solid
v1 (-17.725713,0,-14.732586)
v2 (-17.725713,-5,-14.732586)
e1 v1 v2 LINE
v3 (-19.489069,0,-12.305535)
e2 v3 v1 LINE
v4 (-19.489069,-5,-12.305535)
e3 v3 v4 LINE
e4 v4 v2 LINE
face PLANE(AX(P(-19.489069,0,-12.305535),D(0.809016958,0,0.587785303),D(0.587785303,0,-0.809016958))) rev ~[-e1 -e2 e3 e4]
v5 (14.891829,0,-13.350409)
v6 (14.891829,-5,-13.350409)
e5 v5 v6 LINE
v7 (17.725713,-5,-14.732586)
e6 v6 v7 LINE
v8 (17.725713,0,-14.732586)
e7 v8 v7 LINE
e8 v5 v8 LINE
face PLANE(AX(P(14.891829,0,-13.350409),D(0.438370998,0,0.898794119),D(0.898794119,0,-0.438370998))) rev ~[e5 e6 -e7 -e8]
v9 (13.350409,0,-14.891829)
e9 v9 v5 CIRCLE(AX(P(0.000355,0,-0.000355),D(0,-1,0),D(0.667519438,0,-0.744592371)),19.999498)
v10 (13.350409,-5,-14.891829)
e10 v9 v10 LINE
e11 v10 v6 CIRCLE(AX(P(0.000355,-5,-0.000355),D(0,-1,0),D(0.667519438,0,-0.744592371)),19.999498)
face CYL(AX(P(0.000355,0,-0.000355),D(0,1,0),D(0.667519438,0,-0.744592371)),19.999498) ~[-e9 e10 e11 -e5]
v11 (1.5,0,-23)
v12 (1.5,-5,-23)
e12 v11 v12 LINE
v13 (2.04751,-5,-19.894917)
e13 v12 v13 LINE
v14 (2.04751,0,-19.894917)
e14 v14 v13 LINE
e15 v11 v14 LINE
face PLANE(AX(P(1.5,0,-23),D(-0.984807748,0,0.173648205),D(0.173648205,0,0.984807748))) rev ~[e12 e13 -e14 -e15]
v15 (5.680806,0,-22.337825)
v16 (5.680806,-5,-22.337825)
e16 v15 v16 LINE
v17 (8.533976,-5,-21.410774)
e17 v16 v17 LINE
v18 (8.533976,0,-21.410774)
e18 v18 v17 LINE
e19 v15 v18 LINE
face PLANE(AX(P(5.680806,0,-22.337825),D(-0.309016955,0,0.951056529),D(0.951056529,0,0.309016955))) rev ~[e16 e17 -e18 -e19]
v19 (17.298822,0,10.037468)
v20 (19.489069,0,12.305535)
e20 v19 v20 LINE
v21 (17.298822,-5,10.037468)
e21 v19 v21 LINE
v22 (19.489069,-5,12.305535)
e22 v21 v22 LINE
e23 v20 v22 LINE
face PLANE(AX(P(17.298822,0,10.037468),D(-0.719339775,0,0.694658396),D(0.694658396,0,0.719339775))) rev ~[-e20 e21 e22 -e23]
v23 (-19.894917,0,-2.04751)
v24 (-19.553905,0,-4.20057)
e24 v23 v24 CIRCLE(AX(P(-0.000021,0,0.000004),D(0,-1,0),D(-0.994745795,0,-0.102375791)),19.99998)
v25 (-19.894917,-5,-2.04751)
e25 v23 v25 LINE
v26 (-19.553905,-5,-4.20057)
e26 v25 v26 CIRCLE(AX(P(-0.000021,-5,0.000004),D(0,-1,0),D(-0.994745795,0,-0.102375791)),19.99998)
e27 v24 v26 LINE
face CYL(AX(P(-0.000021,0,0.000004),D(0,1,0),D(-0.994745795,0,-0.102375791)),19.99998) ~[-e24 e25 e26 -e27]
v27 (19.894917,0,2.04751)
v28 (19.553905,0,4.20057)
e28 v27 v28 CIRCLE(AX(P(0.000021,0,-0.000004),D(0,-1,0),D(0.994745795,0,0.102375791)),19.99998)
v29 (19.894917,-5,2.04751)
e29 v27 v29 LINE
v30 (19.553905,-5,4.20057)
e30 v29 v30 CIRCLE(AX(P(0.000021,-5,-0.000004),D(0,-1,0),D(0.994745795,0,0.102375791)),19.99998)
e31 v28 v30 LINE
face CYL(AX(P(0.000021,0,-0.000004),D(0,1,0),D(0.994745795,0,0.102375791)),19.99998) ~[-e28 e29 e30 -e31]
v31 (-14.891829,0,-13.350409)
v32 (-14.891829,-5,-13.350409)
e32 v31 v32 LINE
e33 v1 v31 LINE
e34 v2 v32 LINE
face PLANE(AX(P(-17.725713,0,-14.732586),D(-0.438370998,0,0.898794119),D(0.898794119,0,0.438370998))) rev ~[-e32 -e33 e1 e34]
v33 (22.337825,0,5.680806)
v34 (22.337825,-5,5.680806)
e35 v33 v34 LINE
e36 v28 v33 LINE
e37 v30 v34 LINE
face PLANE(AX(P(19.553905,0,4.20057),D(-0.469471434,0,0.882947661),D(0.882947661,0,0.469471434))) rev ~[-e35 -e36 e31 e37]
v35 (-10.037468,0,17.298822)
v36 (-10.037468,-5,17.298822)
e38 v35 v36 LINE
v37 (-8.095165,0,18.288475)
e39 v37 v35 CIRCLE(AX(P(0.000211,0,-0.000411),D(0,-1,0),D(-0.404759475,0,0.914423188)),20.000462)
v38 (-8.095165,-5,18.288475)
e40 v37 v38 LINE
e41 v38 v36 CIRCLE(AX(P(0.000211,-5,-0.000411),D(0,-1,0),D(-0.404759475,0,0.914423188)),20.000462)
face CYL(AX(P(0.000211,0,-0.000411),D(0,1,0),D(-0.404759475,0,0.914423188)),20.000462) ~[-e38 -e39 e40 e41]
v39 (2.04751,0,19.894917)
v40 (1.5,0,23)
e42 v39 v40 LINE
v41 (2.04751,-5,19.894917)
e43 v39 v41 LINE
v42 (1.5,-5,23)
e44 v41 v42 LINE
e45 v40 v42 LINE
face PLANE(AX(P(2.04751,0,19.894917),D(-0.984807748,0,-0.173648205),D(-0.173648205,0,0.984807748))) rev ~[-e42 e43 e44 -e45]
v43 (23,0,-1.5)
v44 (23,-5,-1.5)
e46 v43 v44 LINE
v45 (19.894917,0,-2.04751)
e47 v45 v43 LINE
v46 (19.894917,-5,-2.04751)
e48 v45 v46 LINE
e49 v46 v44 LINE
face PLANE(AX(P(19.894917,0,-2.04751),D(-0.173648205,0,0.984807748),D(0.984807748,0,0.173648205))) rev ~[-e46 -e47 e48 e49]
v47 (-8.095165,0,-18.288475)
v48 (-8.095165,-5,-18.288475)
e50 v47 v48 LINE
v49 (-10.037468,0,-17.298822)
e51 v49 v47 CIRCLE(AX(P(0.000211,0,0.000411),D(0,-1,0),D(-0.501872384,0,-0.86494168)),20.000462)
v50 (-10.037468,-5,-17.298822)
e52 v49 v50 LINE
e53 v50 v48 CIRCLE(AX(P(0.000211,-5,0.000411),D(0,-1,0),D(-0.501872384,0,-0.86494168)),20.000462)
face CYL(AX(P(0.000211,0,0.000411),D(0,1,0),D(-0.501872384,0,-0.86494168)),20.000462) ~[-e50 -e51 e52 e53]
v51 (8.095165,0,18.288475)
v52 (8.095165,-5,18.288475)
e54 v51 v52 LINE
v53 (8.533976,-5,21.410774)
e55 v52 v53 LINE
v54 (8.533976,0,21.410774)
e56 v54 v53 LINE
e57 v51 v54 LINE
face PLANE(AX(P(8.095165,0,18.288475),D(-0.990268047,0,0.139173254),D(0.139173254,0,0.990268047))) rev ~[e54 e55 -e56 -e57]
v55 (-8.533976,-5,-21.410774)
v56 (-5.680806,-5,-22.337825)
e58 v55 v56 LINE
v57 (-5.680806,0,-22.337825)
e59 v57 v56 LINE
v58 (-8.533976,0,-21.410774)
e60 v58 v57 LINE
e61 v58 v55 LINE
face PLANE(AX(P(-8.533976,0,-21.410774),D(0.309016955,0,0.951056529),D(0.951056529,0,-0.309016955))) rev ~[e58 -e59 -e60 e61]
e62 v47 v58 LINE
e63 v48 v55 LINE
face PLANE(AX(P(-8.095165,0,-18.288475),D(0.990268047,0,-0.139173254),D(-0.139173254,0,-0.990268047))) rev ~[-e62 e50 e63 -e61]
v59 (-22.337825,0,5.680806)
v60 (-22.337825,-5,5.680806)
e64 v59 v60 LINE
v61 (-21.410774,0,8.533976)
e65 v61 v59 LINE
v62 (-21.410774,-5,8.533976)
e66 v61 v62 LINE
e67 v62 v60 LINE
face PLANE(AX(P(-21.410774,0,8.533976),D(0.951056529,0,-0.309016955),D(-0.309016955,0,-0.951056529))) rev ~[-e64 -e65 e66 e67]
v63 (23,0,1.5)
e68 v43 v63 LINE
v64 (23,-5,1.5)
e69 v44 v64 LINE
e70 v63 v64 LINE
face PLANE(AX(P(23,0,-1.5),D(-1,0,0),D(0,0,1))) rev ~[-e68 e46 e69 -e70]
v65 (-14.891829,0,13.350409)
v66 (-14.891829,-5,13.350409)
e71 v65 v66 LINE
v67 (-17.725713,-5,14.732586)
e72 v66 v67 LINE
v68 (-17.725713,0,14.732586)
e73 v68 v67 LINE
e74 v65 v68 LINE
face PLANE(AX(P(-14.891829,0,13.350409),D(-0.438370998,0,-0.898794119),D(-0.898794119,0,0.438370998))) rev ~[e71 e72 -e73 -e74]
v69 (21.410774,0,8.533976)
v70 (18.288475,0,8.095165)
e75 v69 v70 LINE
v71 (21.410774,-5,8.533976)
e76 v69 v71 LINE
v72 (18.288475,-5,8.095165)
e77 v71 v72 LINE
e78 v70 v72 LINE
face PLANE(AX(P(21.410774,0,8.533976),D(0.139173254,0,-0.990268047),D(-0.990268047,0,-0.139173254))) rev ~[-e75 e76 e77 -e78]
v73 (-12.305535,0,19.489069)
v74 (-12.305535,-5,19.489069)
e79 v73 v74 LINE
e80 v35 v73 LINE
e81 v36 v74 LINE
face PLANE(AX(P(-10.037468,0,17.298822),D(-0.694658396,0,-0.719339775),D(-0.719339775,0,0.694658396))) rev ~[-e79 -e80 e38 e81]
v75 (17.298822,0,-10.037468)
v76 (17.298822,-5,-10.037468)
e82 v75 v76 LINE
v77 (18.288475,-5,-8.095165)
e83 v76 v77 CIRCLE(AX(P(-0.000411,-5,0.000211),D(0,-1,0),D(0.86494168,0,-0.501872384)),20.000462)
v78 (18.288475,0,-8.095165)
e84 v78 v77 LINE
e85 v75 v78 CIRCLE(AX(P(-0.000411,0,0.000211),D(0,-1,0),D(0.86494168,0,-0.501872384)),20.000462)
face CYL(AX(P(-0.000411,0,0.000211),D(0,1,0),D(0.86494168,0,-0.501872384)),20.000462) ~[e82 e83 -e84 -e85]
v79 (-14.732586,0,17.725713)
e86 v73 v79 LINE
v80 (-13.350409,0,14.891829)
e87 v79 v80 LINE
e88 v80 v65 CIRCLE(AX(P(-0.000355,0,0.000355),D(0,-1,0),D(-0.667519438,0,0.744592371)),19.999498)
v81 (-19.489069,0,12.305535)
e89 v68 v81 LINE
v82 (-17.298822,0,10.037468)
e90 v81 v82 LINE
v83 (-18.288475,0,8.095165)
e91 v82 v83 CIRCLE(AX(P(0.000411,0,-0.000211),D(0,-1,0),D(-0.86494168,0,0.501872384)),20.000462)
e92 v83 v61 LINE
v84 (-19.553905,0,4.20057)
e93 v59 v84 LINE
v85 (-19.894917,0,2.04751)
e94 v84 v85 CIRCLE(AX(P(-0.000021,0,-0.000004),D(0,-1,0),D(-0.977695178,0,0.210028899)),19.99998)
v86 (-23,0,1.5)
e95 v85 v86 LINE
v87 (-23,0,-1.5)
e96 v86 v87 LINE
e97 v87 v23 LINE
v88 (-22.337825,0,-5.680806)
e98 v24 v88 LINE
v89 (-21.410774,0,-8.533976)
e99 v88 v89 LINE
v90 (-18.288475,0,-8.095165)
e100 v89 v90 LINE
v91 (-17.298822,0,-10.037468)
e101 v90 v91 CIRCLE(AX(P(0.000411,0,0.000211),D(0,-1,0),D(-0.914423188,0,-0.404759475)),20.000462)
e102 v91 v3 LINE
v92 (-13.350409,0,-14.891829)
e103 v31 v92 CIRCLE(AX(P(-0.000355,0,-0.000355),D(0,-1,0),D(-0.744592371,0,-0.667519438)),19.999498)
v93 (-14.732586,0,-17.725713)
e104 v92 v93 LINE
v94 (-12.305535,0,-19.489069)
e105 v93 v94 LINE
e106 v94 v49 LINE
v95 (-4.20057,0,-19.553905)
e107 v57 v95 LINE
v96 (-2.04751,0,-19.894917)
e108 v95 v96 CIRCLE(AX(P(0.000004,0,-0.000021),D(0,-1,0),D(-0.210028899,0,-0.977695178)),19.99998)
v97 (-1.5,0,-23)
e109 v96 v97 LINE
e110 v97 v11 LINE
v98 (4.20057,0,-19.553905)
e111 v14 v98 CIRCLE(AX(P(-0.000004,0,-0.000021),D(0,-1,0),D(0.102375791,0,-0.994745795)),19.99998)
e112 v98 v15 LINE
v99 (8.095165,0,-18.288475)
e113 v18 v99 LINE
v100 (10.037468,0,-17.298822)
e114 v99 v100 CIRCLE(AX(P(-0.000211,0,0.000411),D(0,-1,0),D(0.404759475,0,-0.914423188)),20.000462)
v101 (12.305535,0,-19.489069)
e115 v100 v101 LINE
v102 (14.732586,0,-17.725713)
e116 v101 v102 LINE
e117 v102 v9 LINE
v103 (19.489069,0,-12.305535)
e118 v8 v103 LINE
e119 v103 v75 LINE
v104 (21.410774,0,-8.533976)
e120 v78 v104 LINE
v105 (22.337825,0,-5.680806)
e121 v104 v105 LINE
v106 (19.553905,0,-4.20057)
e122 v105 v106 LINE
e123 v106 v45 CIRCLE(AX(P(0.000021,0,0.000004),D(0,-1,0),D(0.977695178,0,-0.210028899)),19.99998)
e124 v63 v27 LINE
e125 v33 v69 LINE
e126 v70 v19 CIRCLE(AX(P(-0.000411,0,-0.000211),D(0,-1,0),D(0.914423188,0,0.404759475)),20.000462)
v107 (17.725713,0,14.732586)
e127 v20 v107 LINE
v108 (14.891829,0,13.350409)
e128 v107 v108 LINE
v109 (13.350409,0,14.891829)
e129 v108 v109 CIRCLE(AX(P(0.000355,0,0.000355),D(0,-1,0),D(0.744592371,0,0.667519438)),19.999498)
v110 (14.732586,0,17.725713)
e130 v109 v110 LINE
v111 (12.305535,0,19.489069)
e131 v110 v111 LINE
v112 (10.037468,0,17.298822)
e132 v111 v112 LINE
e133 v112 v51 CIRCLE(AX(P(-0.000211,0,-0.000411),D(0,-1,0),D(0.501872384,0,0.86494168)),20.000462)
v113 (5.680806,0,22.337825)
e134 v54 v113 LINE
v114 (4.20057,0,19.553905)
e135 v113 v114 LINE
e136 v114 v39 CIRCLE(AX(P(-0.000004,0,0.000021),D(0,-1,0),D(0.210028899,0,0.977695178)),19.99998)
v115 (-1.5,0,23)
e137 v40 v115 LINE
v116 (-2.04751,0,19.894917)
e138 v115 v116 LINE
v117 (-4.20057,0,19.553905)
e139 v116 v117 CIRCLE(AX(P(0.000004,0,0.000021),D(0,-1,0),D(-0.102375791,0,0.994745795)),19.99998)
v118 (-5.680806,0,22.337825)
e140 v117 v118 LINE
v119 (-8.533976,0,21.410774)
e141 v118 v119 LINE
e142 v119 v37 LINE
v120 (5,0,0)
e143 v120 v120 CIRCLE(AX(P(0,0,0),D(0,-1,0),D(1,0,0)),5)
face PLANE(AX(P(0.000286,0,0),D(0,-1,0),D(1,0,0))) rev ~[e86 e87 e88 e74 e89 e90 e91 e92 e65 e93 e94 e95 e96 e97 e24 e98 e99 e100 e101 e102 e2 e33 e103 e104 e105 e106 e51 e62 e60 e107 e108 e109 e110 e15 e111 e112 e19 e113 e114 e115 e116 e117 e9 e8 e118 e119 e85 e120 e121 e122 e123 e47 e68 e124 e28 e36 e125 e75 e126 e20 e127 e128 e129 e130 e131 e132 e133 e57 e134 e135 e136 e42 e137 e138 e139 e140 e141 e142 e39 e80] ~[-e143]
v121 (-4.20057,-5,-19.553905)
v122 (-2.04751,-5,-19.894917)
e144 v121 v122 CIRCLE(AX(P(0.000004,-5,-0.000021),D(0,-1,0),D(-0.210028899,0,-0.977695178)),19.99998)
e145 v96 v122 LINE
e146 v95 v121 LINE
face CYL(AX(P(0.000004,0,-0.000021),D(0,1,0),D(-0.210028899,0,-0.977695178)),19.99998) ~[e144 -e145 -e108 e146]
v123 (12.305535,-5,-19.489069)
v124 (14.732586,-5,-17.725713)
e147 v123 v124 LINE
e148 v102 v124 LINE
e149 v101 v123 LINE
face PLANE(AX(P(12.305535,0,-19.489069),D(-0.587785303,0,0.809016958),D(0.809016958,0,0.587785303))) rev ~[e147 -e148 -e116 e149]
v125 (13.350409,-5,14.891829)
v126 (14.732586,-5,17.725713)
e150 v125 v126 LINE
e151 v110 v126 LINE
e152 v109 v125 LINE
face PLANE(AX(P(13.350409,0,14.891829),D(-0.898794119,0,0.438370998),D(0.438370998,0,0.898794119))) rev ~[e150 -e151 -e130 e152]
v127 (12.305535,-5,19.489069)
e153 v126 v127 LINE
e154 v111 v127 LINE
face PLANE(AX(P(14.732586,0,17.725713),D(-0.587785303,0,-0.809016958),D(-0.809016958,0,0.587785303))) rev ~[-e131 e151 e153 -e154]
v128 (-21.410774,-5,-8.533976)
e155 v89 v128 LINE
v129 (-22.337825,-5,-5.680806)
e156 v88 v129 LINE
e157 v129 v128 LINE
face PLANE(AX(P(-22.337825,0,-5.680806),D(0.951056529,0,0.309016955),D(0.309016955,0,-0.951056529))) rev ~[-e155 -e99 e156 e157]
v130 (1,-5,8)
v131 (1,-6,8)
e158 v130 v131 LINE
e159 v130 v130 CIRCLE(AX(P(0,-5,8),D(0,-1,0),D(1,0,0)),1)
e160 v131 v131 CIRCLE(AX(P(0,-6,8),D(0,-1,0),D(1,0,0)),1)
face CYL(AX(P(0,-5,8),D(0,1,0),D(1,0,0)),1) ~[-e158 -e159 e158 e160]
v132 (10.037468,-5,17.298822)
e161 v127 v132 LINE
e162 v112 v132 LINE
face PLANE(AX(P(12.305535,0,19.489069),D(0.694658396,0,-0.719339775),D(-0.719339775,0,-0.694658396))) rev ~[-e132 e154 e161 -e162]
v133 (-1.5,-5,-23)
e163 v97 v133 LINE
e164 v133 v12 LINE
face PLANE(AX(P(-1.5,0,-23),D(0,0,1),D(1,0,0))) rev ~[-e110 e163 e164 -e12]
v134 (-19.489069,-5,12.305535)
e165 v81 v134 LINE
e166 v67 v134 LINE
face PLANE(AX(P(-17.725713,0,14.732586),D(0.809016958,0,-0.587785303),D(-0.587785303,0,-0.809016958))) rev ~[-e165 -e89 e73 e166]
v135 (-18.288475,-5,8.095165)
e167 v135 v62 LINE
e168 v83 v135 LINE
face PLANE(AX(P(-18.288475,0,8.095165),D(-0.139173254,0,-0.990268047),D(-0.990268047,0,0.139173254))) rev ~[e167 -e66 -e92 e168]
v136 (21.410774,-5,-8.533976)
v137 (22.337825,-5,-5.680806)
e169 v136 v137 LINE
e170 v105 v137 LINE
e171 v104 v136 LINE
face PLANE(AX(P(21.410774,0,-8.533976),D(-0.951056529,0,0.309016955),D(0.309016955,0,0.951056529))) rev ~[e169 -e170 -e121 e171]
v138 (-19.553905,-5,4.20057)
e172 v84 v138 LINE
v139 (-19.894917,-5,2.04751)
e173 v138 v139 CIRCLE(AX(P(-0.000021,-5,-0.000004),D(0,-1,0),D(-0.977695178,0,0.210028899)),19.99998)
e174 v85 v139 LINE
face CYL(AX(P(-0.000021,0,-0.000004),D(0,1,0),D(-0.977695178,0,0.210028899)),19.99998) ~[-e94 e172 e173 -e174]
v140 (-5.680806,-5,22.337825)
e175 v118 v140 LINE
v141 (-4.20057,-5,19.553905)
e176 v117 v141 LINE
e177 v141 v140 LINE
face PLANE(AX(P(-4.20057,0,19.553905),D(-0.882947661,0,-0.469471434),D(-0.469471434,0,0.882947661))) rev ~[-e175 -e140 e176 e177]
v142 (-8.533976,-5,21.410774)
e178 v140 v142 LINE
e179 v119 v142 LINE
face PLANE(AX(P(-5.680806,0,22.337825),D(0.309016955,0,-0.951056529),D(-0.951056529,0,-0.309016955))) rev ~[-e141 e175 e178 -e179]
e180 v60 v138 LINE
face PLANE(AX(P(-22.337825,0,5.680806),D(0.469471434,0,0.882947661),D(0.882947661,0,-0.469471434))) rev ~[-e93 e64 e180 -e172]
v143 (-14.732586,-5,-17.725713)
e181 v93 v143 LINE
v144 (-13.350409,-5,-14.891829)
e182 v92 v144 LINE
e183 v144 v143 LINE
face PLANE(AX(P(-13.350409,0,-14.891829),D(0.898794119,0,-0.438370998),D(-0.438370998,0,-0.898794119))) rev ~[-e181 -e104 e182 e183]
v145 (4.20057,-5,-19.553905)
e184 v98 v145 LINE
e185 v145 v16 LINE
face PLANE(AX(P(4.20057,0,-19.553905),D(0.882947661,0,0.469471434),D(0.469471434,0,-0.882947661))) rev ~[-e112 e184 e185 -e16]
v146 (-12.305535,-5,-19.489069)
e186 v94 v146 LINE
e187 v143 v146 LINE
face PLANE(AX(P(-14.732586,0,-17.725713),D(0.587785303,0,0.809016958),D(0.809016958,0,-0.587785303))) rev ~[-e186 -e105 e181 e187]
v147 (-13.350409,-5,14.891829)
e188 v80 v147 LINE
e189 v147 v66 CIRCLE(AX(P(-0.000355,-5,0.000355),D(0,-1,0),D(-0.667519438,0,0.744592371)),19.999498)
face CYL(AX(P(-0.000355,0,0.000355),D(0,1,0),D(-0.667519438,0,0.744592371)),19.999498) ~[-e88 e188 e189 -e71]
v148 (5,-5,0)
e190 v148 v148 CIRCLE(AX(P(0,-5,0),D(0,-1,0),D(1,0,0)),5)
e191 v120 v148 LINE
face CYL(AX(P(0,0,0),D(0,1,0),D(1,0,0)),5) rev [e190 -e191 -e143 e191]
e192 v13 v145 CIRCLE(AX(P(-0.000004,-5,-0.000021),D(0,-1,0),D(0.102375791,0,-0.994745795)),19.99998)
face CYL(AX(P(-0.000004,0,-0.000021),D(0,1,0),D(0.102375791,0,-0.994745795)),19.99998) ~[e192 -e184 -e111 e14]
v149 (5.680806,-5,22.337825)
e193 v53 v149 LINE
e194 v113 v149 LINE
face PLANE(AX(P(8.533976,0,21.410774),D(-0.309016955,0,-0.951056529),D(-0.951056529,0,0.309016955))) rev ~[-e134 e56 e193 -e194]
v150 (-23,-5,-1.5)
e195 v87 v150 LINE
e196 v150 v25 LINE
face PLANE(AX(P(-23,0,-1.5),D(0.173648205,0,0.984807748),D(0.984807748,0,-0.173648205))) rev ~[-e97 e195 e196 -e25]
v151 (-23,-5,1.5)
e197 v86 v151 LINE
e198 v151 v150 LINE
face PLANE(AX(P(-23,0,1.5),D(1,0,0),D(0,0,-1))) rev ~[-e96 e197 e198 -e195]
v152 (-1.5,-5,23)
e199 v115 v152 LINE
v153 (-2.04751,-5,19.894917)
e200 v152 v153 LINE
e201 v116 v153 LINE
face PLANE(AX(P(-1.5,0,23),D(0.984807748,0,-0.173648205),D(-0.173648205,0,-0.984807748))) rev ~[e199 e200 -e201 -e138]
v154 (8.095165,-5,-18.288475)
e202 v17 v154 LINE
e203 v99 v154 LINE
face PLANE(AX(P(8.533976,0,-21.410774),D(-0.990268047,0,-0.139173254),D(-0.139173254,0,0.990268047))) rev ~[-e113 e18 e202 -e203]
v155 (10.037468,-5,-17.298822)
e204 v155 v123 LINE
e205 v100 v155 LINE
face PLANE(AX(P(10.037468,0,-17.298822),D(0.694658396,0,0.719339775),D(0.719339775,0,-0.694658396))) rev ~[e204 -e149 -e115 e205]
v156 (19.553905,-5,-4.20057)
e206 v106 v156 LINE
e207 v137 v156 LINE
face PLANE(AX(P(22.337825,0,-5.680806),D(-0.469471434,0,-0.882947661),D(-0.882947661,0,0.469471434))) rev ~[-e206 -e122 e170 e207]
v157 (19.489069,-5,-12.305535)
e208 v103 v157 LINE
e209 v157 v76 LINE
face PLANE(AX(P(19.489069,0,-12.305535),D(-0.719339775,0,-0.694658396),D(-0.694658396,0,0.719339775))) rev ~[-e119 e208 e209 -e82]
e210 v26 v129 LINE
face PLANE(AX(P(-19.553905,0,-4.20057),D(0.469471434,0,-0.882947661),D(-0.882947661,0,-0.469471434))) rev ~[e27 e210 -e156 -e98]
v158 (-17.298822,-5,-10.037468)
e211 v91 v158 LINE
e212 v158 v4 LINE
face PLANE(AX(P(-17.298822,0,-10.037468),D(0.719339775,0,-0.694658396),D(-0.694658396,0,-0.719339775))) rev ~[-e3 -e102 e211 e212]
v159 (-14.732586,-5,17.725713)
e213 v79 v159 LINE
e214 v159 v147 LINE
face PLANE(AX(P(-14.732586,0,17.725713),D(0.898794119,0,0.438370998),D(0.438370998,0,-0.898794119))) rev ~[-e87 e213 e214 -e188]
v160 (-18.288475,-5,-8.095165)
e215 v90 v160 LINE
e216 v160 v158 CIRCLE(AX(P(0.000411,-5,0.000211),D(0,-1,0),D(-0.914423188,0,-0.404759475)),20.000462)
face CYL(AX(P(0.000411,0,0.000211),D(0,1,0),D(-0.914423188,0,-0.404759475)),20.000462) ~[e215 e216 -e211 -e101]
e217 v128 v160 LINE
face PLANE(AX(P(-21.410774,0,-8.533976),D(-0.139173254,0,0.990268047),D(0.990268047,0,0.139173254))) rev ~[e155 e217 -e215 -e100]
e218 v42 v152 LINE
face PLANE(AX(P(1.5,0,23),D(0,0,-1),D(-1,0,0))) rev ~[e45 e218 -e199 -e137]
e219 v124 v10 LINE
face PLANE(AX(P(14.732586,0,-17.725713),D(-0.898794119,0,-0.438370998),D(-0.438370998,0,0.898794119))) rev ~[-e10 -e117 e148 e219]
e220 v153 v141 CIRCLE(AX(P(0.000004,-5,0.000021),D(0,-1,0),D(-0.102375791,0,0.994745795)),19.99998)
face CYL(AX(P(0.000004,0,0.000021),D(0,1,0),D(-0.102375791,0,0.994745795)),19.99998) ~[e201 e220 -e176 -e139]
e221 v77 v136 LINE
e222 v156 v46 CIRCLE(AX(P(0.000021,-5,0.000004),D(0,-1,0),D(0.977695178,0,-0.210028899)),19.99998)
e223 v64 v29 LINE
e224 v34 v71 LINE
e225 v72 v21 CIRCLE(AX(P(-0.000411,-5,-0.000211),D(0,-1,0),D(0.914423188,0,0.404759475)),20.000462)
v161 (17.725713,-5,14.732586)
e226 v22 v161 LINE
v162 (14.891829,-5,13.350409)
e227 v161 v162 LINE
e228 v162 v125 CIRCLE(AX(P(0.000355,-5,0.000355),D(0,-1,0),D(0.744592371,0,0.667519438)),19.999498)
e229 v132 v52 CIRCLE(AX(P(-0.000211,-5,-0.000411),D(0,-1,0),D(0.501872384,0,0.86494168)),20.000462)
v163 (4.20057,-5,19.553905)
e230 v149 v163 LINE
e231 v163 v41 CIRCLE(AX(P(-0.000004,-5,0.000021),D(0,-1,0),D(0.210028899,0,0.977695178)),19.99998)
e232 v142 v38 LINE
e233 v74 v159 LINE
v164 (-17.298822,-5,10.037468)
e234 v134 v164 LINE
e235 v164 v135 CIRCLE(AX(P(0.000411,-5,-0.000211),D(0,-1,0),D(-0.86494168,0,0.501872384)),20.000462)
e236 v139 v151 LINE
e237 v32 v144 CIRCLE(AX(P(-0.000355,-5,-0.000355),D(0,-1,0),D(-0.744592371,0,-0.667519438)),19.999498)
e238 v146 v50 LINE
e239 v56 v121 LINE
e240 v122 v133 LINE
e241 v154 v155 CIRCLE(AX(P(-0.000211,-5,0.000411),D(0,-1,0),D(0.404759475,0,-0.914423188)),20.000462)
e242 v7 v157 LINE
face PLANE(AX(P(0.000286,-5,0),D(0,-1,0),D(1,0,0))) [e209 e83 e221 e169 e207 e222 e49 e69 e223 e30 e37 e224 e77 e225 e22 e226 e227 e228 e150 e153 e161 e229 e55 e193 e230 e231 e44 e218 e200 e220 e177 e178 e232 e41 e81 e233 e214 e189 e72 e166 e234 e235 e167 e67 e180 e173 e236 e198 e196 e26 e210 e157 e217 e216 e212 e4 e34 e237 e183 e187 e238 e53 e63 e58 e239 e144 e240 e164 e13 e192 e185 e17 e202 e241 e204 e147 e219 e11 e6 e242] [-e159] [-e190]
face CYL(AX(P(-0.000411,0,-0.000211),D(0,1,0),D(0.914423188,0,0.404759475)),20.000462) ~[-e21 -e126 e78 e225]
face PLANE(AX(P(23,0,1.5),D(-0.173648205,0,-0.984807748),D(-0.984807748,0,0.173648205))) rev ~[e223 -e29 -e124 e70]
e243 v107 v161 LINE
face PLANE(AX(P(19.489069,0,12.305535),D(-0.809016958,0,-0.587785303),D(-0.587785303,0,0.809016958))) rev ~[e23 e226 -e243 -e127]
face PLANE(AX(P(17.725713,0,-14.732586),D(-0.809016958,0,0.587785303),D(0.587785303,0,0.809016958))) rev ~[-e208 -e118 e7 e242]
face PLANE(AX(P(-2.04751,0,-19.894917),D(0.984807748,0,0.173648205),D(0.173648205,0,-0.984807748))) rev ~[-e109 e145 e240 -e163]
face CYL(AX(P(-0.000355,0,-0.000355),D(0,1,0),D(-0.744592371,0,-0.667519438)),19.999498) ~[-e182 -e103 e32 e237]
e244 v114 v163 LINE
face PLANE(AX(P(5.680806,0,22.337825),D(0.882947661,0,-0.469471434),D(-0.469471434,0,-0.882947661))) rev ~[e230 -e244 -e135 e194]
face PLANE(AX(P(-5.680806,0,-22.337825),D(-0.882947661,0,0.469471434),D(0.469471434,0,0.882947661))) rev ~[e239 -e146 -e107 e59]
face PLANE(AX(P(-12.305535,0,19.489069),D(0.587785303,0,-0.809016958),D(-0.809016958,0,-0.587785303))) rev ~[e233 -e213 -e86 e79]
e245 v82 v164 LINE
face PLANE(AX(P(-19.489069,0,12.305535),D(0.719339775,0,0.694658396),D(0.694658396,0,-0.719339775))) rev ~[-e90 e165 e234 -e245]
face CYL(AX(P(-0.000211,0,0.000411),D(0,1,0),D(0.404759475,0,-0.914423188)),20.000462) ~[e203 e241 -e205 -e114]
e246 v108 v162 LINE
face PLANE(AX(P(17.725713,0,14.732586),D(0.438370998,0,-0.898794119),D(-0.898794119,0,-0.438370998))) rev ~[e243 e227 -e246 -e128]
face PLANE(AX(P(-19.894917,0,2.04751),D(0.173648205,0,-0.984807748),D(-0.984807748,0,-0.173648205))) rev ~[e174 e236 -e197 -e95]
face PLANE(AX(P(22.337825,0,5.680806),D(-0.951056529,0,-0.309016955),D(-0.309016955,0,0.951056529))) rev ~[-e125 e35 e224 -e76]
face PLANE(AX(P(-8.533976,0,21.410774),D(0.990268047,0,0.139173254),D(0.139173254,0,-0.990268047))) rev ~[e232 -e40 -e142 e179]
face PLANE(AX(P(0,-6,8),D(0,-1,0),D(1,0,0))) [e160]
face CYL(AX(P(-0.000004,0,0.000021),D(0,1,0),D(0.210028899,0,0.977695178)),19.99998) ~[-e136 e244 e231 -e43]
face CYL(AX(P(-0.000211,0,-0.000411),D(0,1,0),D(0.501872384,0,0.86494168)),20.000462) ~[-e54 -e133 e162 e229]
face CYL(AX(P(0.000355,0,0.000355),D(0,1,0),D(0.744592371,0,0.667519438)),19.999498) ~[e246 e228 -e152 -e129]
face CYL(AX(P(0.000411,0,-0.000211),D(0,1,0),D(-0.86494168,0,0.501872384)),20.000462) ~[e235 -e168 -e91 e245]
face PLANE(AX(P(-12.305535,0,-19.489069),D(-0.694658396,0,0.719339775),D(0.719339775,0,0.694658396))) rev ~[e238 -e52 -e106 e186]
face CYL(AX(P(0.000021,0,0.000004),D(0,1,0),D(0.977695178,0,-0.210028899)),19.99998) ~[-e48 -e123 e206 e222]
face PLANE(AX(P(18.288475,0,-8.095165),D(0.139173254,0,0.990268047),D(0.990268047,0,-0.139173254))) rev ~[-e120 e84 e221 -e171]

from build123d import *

# Parameters (mm, degrees)
F0_R     = 5
F1_DEPTH = 5
F2_R     = 1
F3_DEPTH = 1


with BuildPart() as f1:
    # F0 (on Front) → F1 (new body)
    with BuildSketch(Plane.XZ):
        with BuildLine():
            ThreePointArc((19.894917, -2.04751), (19.973712, -1.025102), (20, 0))
            ThreePointArc((20, 0), (19.973712, 1.025102), (19.894917, 2.04751))
            ThreePointArc((19.894917, 2.04751), (19.753767, 3.128689), (19.553905, 4.20057))
            ThreePointArc((19.553905, 4.20057), (19.02113, 6.18034), (18.288475, 8.095165))
            ThreePointArc((18.288475, 8.095165), (17.82013, 9.07981), (17.298822, 10.037468))
            ThreePointArc((17.298822, 10.037468), (16.18034, 11.755705), (14.891829, 13.350409))
            ThreePointArc((14.891829, 13.350409), (14.142136, 14.142136), (13.350409, 14.891829))
            ThreePointArc((13.350409, 14.891829), (11.755705, 16.18034), (10.037468, 17.298822))
            ThreePointArc((10.037468, 17.298822), (9.07981, 17.82013), (8.095165, 18.288475))
            ThreePointArc((8.095165, 18.288475), (6.18034, 19.02113), (4.20057, 19.553905))
            ThreePointArc((4.20057, 19.553905), (3.128689, 19.753767), (2.04751, 19.894917))
            ThreePointArc((2.04751, 19.894917), (0, 20), (-2.04751, 19.894917))
            ThreePointArc((-2.04751, 19.894917), (-3.128689, 19.753767), (-4.20057, 19.553905))
            ThreePointArc((-4.20057, 19.553905), (-6.18034, 19.02113), (-8.095165, 18.288475))
            ThreePointArc((-8.095165, 18.288475), (-9.07981, 17.82013), (-10.037468, 17.298822))
            ThreePointArc((-10.037468, 17.298822), (-11.755705, 16.18034), (-13.350409, 14.891829))
            ThreePointArc((-13.350409, 14.891829), (-14.142136, 14.142136), (-14.891829, 13.350409))
            ThreePointArc((-14.891829, 13.350409), (-16.18034, 11.755705), (-17.298822, 10.037468))
            ThreePointArc((-17.298822, 10.037468), (-17.82013, 9.07981), (-18.288475, 8.095165))
            ThreePointArc((-18.288475, 8.095165), (-19.02113, 6.18034), (-19.553905, 4.20057))
            ThreePointArc((-19.553905, 4.20057), (-19.753767, 3.128689), (-19.894917, 2.04751))
            ThreePointArc((-19.894917, 2.04751), (-20, 0), (-19.894917, -2.04751))
            ThreePointArc((-19.894917, -2.04751), (-19.753767, -3.128689), (-19.553905, -4.20057))
            ThreePointArc((-19.553905, -4.20057), (-19.02113, -6.18034), (-18.288475, -8.095165))
            ThreePointArc((-18.288475, -8.095165), (-17.82013, -9.07981), (-17.298822, -10.037468))
            ThreePointArc((-17.298822, -10.037468), (-16.18034, -11.755705), (-14.891829, -13.350409))
            ThreePointArc((-14.891829, -13.350409), (-14.142136, -14.142136), (-13.350409, -14.891829))
            ThreePointArc((-13.350409, -14.891829), (-11.755705, -16.18034), (-10.037468, -17.298822))
            ThreePointArc((-10.037468, -17.298822), (-9.07981, -17.82013), (-8.095165, -18.288475))
            ThreePointArc((-8.095165, -18.288475), (-6.18034, -19.02113), (-4.20057, -19.553905))
            ThreePointArc((-4.20057, -19.553905), (-3.128689, -19.753767), (-2.04751, -19.894917))
            ThreePointArc((-2.04751, -19.894917), (0, -20), (2.04751, -19.894917))
            ThreePointArc((2.04751, -19.894917), (3.128689, -19.753767), (4.20057, -19.553905))
            ThreePointArc((4.20057, -19.553905), (6.18034, -19.02113), (8.095165, -18.288475))
            ThreePointArc((8.095165, -18.288475), (9.07981, -17.82013), (10.037468, -17.298822))
            ThreePointArc((10.037468, -17.298822), (11.755705, -16.18034), (13.350409, -14.891829))
            ThreePointArc((13.350409, -14.891829), (14.142136, -14.142136), (14.891829, -13.350409))
            ThreePointArc((14.891829, -13.350409), (16.18034, -11.755705), (17.298822, -10.037468))
            ThreePointArc((17.298822, -10.037468), (17.82013, -9.07981), (18.288475, -8.095165))
            ThreePointArc((18.288475, -8.095165), (19.02113, -6.18034), (19.553905, -4.20057))
            ThreePointArc((19.553905, -4.20057), (19.753767, -3.128689), (19.894917, -2.04751))
        make_face()
        Circle(F0_R, mode=Mode.SUBTRACT)
        with BuildLine():
            ThreePointArc((19.894917, 2.04751), (19.973712, 1.025102), (20, 0))
            ThreePointArc((20, 0), (19.973712, -1.025102), (19.894917, -2.04751))
            Line((19.894917, -2.04751), (23, -1.5))
            Line((23, -1.5), (23, 1.5))
            Line((23, 1.5), (19.894917, 2.04751))
        make_face()
        with BuildLine():
            ThreePointArc((18.288475, 8.095165), (19.02113, 6.18034), (19.553905, 4.20057))
            Line((19.553905, 4.20057), (22.337825, 5.680806))
            Line((22.337825, 5.680806), (21.410774, 8.533976))
            Line((21.410774, 8.533976), (18.288475, 8.095165))
        make_face()
        with BuildLine():
            Line((22.337825, -5.680806), (19.553905, -4.20057))
            ThreePointArc((19.553905, -4.20057), (19.02113, -6.18034), (18.288475, -8.095165))
            Line((18.288475, -8.095165), (21.410774, -8.533976))
            Line((21.410774, -8.533976), (22.337825, -5.680806))
        make_face()
        with BuildLine():
            ThreePointArc((14.891829, 13.350409), (16.18034, 11.755705), (17.298822, 10.037468))
            Line((17.298822, 10.037468), (19.489069, 12.305535))
            Line((19.489069, 12.305535), (17.725713, 14.732586))
            Line((17.725713, 14.732586), (14.891829, 13.350409))
        make_face()
        with BuildLine():
            Line((19.489069, -12.305535), (17.298822, -10.037468))
            ThreePointArc((17.298822, -10.037468), (16.18034, -11.755705), (14.891829, -13.350409))
            Line((14.891829, -13.350409), (17.725713, -14.732586))
            Line((17.725713, -14.732586), (19.489069, -12.305535))
        make_face()
        with BuildLine():
            ThreePointArc((10.037468, 17.298822), (11.755705, 16.18034), (13.350409, 14.891829))
            Line((13.350409, 14.891829), (14.732586, 17.725713))
            Line((14.732586, 17.725713), (12.305535, 19.489069))
            Line((12.305535, 19.489069), (10.037468, 17.298822))
        make_face()
        with BuildLine():
            Line((14.732586, -17.725713), (13.350409, -14.891829))
            ThreePointArc((13.350409, -14.891829), (11.755705, -16.18034), (10.037468, -17.298822))
            Line((10.037468, -17.298822), (12.305535, -19.489069))
            Line((12.305535, -19.489069), (14.732586, -17.725713))
        make_face()
        with BuildLine():
            ThreePointArc((4.20057, 19.553905), (6.18034, 19.02113), (8.095165, 18.288475))
            Line((8.095165, 18.288475), (8.533976, 21.410774))
            Line((8.533976, 21.410774), (5.680806, 22.337825))
            Line((5.680806, 22.337825), (4.20057, 19.553905))
        make_face()
        with BuildLine():
            Line((8.533976, -21.410774), (8.095165, -18.288475))
            ThreePointArc((8.095165, -18.288475), (6.18034, -19.02113), (4.20057, -19.553905))
            Line((4.20057, -19.553905), (5.680806, -22.337825))
            Line((5.680806, -22.337825), (8.533976, -21.410774))
        make_face()
        with BuildLine():
            ThreePointArc((-2.04751, 19.894917), (0, 20), (2.04751, 19.894917))
            Line((2.04751, 19.894917), (1.5, 23))
            Line((1.5, 23), (-1.5, 23))
            Line((-1.5, 23), (-2.04751, 19.894917))
        make_face()
        with BuildLine():
            Line((1.5, -23), (2.04751, -19.894917))
            ThreePointArc((2.04751, -19.894917), (0, -20), (-2.04751, -19.894917))
            Line((-2.04751, -19.894917), (-1.5, -23))
            Line((-1.5, -23), (1.5, -23))
        make_face()
        with BuildLine():
            ThreePointArc((-8.095165, 18.288475), (-6.18034, 19.02113), (-4.20057, 19.553905))
            Line((-4.20057, 19.553905), (-5.680806, 22.337825))
            Line((-5.680806, 22.337825), (-8.533976, 21.410774))
            Line((-8.533976, 21.410774), (-8.095165, 18.288475))
        make_face()
        with BuildLine():
            Line((-5.680806, -22.337825), (-4.20057, -19.553905))
            ThreePointArc((-4.20057, -19.553905), (-6.18034, -19.02113), (-8.095165, -18.288475))
            Line((-8.095165, -18.288475), (-8.533976, -21.410774))
            Line((-8.533976, -21.410774), (-5.680806, -22.337825))
        make_face()
        with BuildLine():
            ThreePointArc((-13.350409, 14.891829), (-11.755705, 16.18034), (-10.037468, 17.298822))
            Line((-10.037468, 17.298822), (-12.305535, 19.489069))
            Line((-12.305535, 19.489069), (-14.732586, 17.725713))
            Line((-14.732586, 17.725713), (-13.350409, 14.891829))
        make_face()
        with BuildLine():
            Line((-12.305535, -19.489069), (-10.037468, -17.298822))
            ThreePointArc((-10.037468, -17.298822), (-11.755705, -16.18034), (-13.350409, -14.891829))
            Line((-13.350409, -14.891829), (-14.732586, -17.725713))
            Line((-14.732586, -17.725713), (-12.305535, -19.489069))
        make_face()
        with BuildLine():
            ThreePointArc((-17.298822, 10.037468), (-16.18034, 11.755705), (-14.891829, 13.350409))
            Line((-14.891829, 13.350409), (-17.725713, 14.732586))
            Line((-17.725713, 14.732586), (-19.489069, 12.305535))
            Line((-19.489069, 12.305535), (-17.298822, 10.037468))
        make_face()
        with BuildLine():
            Line((-17.725713, -14.732586), (-14.891829, -13.350409))
            ThreePointArc((-14.891829, -13.350409), (-16.18034, -11.755705), (-17.298822, -10.037468))
            Line((-17.298822, -10.037468), (-19.489069, -12.305535))
            Line((-19.489069, -12.305535), (-17.725713, -14.732586))
        make_face()
        with BuildLine():
            ThreePointArc((-19.553905, 4.20057), (-19.02113, 6.18034), (-18.288475, 8.095165))
            Line((-18.288475, 8.095165), (-21.410774, 8.533976))
            Line((-21.410774, 8.533976), (-22.337825, 5.680806))
            Line((-22.337825, 5.680806), (-19.553905, 4.20057))
        make_face()
        with BuildLine():
            Line((-21.410774, -8.533976), (-18.288475, -8.095165))
            ThreePointArc((-18.288475, -8.095165), (-19.02113, -6.18034), (-19.553905, -4.20057))
            Line((-19.553905, -4.20057), (-22.337825, -5.680806))
            Line((-22.337825, -5.680806), (-21.410774, -8.533976))
        make_face()
        with BuildLine():
            ThreePointArc((-19.894917, -2.04751), (-20, 0), (-19.894917, 2.04751))
            Line((-19.894917, 2.04751), (-23, 1.5))
            Line((-23, 1.5), (-23, -1.5))
            Line((-23, -1.5), (-19.894917, -2.04751))
        make_face()
    extrude(amount=F1_DEPTH)

    # F2 (on face) → F3 (join)
    with BuildSketch(Plane.XZ.offset(5)):
        with Locations((0, 8)):
            Circle(F2_R)
    extrude(amount=F3_DEPTH)


solid = f1.part
